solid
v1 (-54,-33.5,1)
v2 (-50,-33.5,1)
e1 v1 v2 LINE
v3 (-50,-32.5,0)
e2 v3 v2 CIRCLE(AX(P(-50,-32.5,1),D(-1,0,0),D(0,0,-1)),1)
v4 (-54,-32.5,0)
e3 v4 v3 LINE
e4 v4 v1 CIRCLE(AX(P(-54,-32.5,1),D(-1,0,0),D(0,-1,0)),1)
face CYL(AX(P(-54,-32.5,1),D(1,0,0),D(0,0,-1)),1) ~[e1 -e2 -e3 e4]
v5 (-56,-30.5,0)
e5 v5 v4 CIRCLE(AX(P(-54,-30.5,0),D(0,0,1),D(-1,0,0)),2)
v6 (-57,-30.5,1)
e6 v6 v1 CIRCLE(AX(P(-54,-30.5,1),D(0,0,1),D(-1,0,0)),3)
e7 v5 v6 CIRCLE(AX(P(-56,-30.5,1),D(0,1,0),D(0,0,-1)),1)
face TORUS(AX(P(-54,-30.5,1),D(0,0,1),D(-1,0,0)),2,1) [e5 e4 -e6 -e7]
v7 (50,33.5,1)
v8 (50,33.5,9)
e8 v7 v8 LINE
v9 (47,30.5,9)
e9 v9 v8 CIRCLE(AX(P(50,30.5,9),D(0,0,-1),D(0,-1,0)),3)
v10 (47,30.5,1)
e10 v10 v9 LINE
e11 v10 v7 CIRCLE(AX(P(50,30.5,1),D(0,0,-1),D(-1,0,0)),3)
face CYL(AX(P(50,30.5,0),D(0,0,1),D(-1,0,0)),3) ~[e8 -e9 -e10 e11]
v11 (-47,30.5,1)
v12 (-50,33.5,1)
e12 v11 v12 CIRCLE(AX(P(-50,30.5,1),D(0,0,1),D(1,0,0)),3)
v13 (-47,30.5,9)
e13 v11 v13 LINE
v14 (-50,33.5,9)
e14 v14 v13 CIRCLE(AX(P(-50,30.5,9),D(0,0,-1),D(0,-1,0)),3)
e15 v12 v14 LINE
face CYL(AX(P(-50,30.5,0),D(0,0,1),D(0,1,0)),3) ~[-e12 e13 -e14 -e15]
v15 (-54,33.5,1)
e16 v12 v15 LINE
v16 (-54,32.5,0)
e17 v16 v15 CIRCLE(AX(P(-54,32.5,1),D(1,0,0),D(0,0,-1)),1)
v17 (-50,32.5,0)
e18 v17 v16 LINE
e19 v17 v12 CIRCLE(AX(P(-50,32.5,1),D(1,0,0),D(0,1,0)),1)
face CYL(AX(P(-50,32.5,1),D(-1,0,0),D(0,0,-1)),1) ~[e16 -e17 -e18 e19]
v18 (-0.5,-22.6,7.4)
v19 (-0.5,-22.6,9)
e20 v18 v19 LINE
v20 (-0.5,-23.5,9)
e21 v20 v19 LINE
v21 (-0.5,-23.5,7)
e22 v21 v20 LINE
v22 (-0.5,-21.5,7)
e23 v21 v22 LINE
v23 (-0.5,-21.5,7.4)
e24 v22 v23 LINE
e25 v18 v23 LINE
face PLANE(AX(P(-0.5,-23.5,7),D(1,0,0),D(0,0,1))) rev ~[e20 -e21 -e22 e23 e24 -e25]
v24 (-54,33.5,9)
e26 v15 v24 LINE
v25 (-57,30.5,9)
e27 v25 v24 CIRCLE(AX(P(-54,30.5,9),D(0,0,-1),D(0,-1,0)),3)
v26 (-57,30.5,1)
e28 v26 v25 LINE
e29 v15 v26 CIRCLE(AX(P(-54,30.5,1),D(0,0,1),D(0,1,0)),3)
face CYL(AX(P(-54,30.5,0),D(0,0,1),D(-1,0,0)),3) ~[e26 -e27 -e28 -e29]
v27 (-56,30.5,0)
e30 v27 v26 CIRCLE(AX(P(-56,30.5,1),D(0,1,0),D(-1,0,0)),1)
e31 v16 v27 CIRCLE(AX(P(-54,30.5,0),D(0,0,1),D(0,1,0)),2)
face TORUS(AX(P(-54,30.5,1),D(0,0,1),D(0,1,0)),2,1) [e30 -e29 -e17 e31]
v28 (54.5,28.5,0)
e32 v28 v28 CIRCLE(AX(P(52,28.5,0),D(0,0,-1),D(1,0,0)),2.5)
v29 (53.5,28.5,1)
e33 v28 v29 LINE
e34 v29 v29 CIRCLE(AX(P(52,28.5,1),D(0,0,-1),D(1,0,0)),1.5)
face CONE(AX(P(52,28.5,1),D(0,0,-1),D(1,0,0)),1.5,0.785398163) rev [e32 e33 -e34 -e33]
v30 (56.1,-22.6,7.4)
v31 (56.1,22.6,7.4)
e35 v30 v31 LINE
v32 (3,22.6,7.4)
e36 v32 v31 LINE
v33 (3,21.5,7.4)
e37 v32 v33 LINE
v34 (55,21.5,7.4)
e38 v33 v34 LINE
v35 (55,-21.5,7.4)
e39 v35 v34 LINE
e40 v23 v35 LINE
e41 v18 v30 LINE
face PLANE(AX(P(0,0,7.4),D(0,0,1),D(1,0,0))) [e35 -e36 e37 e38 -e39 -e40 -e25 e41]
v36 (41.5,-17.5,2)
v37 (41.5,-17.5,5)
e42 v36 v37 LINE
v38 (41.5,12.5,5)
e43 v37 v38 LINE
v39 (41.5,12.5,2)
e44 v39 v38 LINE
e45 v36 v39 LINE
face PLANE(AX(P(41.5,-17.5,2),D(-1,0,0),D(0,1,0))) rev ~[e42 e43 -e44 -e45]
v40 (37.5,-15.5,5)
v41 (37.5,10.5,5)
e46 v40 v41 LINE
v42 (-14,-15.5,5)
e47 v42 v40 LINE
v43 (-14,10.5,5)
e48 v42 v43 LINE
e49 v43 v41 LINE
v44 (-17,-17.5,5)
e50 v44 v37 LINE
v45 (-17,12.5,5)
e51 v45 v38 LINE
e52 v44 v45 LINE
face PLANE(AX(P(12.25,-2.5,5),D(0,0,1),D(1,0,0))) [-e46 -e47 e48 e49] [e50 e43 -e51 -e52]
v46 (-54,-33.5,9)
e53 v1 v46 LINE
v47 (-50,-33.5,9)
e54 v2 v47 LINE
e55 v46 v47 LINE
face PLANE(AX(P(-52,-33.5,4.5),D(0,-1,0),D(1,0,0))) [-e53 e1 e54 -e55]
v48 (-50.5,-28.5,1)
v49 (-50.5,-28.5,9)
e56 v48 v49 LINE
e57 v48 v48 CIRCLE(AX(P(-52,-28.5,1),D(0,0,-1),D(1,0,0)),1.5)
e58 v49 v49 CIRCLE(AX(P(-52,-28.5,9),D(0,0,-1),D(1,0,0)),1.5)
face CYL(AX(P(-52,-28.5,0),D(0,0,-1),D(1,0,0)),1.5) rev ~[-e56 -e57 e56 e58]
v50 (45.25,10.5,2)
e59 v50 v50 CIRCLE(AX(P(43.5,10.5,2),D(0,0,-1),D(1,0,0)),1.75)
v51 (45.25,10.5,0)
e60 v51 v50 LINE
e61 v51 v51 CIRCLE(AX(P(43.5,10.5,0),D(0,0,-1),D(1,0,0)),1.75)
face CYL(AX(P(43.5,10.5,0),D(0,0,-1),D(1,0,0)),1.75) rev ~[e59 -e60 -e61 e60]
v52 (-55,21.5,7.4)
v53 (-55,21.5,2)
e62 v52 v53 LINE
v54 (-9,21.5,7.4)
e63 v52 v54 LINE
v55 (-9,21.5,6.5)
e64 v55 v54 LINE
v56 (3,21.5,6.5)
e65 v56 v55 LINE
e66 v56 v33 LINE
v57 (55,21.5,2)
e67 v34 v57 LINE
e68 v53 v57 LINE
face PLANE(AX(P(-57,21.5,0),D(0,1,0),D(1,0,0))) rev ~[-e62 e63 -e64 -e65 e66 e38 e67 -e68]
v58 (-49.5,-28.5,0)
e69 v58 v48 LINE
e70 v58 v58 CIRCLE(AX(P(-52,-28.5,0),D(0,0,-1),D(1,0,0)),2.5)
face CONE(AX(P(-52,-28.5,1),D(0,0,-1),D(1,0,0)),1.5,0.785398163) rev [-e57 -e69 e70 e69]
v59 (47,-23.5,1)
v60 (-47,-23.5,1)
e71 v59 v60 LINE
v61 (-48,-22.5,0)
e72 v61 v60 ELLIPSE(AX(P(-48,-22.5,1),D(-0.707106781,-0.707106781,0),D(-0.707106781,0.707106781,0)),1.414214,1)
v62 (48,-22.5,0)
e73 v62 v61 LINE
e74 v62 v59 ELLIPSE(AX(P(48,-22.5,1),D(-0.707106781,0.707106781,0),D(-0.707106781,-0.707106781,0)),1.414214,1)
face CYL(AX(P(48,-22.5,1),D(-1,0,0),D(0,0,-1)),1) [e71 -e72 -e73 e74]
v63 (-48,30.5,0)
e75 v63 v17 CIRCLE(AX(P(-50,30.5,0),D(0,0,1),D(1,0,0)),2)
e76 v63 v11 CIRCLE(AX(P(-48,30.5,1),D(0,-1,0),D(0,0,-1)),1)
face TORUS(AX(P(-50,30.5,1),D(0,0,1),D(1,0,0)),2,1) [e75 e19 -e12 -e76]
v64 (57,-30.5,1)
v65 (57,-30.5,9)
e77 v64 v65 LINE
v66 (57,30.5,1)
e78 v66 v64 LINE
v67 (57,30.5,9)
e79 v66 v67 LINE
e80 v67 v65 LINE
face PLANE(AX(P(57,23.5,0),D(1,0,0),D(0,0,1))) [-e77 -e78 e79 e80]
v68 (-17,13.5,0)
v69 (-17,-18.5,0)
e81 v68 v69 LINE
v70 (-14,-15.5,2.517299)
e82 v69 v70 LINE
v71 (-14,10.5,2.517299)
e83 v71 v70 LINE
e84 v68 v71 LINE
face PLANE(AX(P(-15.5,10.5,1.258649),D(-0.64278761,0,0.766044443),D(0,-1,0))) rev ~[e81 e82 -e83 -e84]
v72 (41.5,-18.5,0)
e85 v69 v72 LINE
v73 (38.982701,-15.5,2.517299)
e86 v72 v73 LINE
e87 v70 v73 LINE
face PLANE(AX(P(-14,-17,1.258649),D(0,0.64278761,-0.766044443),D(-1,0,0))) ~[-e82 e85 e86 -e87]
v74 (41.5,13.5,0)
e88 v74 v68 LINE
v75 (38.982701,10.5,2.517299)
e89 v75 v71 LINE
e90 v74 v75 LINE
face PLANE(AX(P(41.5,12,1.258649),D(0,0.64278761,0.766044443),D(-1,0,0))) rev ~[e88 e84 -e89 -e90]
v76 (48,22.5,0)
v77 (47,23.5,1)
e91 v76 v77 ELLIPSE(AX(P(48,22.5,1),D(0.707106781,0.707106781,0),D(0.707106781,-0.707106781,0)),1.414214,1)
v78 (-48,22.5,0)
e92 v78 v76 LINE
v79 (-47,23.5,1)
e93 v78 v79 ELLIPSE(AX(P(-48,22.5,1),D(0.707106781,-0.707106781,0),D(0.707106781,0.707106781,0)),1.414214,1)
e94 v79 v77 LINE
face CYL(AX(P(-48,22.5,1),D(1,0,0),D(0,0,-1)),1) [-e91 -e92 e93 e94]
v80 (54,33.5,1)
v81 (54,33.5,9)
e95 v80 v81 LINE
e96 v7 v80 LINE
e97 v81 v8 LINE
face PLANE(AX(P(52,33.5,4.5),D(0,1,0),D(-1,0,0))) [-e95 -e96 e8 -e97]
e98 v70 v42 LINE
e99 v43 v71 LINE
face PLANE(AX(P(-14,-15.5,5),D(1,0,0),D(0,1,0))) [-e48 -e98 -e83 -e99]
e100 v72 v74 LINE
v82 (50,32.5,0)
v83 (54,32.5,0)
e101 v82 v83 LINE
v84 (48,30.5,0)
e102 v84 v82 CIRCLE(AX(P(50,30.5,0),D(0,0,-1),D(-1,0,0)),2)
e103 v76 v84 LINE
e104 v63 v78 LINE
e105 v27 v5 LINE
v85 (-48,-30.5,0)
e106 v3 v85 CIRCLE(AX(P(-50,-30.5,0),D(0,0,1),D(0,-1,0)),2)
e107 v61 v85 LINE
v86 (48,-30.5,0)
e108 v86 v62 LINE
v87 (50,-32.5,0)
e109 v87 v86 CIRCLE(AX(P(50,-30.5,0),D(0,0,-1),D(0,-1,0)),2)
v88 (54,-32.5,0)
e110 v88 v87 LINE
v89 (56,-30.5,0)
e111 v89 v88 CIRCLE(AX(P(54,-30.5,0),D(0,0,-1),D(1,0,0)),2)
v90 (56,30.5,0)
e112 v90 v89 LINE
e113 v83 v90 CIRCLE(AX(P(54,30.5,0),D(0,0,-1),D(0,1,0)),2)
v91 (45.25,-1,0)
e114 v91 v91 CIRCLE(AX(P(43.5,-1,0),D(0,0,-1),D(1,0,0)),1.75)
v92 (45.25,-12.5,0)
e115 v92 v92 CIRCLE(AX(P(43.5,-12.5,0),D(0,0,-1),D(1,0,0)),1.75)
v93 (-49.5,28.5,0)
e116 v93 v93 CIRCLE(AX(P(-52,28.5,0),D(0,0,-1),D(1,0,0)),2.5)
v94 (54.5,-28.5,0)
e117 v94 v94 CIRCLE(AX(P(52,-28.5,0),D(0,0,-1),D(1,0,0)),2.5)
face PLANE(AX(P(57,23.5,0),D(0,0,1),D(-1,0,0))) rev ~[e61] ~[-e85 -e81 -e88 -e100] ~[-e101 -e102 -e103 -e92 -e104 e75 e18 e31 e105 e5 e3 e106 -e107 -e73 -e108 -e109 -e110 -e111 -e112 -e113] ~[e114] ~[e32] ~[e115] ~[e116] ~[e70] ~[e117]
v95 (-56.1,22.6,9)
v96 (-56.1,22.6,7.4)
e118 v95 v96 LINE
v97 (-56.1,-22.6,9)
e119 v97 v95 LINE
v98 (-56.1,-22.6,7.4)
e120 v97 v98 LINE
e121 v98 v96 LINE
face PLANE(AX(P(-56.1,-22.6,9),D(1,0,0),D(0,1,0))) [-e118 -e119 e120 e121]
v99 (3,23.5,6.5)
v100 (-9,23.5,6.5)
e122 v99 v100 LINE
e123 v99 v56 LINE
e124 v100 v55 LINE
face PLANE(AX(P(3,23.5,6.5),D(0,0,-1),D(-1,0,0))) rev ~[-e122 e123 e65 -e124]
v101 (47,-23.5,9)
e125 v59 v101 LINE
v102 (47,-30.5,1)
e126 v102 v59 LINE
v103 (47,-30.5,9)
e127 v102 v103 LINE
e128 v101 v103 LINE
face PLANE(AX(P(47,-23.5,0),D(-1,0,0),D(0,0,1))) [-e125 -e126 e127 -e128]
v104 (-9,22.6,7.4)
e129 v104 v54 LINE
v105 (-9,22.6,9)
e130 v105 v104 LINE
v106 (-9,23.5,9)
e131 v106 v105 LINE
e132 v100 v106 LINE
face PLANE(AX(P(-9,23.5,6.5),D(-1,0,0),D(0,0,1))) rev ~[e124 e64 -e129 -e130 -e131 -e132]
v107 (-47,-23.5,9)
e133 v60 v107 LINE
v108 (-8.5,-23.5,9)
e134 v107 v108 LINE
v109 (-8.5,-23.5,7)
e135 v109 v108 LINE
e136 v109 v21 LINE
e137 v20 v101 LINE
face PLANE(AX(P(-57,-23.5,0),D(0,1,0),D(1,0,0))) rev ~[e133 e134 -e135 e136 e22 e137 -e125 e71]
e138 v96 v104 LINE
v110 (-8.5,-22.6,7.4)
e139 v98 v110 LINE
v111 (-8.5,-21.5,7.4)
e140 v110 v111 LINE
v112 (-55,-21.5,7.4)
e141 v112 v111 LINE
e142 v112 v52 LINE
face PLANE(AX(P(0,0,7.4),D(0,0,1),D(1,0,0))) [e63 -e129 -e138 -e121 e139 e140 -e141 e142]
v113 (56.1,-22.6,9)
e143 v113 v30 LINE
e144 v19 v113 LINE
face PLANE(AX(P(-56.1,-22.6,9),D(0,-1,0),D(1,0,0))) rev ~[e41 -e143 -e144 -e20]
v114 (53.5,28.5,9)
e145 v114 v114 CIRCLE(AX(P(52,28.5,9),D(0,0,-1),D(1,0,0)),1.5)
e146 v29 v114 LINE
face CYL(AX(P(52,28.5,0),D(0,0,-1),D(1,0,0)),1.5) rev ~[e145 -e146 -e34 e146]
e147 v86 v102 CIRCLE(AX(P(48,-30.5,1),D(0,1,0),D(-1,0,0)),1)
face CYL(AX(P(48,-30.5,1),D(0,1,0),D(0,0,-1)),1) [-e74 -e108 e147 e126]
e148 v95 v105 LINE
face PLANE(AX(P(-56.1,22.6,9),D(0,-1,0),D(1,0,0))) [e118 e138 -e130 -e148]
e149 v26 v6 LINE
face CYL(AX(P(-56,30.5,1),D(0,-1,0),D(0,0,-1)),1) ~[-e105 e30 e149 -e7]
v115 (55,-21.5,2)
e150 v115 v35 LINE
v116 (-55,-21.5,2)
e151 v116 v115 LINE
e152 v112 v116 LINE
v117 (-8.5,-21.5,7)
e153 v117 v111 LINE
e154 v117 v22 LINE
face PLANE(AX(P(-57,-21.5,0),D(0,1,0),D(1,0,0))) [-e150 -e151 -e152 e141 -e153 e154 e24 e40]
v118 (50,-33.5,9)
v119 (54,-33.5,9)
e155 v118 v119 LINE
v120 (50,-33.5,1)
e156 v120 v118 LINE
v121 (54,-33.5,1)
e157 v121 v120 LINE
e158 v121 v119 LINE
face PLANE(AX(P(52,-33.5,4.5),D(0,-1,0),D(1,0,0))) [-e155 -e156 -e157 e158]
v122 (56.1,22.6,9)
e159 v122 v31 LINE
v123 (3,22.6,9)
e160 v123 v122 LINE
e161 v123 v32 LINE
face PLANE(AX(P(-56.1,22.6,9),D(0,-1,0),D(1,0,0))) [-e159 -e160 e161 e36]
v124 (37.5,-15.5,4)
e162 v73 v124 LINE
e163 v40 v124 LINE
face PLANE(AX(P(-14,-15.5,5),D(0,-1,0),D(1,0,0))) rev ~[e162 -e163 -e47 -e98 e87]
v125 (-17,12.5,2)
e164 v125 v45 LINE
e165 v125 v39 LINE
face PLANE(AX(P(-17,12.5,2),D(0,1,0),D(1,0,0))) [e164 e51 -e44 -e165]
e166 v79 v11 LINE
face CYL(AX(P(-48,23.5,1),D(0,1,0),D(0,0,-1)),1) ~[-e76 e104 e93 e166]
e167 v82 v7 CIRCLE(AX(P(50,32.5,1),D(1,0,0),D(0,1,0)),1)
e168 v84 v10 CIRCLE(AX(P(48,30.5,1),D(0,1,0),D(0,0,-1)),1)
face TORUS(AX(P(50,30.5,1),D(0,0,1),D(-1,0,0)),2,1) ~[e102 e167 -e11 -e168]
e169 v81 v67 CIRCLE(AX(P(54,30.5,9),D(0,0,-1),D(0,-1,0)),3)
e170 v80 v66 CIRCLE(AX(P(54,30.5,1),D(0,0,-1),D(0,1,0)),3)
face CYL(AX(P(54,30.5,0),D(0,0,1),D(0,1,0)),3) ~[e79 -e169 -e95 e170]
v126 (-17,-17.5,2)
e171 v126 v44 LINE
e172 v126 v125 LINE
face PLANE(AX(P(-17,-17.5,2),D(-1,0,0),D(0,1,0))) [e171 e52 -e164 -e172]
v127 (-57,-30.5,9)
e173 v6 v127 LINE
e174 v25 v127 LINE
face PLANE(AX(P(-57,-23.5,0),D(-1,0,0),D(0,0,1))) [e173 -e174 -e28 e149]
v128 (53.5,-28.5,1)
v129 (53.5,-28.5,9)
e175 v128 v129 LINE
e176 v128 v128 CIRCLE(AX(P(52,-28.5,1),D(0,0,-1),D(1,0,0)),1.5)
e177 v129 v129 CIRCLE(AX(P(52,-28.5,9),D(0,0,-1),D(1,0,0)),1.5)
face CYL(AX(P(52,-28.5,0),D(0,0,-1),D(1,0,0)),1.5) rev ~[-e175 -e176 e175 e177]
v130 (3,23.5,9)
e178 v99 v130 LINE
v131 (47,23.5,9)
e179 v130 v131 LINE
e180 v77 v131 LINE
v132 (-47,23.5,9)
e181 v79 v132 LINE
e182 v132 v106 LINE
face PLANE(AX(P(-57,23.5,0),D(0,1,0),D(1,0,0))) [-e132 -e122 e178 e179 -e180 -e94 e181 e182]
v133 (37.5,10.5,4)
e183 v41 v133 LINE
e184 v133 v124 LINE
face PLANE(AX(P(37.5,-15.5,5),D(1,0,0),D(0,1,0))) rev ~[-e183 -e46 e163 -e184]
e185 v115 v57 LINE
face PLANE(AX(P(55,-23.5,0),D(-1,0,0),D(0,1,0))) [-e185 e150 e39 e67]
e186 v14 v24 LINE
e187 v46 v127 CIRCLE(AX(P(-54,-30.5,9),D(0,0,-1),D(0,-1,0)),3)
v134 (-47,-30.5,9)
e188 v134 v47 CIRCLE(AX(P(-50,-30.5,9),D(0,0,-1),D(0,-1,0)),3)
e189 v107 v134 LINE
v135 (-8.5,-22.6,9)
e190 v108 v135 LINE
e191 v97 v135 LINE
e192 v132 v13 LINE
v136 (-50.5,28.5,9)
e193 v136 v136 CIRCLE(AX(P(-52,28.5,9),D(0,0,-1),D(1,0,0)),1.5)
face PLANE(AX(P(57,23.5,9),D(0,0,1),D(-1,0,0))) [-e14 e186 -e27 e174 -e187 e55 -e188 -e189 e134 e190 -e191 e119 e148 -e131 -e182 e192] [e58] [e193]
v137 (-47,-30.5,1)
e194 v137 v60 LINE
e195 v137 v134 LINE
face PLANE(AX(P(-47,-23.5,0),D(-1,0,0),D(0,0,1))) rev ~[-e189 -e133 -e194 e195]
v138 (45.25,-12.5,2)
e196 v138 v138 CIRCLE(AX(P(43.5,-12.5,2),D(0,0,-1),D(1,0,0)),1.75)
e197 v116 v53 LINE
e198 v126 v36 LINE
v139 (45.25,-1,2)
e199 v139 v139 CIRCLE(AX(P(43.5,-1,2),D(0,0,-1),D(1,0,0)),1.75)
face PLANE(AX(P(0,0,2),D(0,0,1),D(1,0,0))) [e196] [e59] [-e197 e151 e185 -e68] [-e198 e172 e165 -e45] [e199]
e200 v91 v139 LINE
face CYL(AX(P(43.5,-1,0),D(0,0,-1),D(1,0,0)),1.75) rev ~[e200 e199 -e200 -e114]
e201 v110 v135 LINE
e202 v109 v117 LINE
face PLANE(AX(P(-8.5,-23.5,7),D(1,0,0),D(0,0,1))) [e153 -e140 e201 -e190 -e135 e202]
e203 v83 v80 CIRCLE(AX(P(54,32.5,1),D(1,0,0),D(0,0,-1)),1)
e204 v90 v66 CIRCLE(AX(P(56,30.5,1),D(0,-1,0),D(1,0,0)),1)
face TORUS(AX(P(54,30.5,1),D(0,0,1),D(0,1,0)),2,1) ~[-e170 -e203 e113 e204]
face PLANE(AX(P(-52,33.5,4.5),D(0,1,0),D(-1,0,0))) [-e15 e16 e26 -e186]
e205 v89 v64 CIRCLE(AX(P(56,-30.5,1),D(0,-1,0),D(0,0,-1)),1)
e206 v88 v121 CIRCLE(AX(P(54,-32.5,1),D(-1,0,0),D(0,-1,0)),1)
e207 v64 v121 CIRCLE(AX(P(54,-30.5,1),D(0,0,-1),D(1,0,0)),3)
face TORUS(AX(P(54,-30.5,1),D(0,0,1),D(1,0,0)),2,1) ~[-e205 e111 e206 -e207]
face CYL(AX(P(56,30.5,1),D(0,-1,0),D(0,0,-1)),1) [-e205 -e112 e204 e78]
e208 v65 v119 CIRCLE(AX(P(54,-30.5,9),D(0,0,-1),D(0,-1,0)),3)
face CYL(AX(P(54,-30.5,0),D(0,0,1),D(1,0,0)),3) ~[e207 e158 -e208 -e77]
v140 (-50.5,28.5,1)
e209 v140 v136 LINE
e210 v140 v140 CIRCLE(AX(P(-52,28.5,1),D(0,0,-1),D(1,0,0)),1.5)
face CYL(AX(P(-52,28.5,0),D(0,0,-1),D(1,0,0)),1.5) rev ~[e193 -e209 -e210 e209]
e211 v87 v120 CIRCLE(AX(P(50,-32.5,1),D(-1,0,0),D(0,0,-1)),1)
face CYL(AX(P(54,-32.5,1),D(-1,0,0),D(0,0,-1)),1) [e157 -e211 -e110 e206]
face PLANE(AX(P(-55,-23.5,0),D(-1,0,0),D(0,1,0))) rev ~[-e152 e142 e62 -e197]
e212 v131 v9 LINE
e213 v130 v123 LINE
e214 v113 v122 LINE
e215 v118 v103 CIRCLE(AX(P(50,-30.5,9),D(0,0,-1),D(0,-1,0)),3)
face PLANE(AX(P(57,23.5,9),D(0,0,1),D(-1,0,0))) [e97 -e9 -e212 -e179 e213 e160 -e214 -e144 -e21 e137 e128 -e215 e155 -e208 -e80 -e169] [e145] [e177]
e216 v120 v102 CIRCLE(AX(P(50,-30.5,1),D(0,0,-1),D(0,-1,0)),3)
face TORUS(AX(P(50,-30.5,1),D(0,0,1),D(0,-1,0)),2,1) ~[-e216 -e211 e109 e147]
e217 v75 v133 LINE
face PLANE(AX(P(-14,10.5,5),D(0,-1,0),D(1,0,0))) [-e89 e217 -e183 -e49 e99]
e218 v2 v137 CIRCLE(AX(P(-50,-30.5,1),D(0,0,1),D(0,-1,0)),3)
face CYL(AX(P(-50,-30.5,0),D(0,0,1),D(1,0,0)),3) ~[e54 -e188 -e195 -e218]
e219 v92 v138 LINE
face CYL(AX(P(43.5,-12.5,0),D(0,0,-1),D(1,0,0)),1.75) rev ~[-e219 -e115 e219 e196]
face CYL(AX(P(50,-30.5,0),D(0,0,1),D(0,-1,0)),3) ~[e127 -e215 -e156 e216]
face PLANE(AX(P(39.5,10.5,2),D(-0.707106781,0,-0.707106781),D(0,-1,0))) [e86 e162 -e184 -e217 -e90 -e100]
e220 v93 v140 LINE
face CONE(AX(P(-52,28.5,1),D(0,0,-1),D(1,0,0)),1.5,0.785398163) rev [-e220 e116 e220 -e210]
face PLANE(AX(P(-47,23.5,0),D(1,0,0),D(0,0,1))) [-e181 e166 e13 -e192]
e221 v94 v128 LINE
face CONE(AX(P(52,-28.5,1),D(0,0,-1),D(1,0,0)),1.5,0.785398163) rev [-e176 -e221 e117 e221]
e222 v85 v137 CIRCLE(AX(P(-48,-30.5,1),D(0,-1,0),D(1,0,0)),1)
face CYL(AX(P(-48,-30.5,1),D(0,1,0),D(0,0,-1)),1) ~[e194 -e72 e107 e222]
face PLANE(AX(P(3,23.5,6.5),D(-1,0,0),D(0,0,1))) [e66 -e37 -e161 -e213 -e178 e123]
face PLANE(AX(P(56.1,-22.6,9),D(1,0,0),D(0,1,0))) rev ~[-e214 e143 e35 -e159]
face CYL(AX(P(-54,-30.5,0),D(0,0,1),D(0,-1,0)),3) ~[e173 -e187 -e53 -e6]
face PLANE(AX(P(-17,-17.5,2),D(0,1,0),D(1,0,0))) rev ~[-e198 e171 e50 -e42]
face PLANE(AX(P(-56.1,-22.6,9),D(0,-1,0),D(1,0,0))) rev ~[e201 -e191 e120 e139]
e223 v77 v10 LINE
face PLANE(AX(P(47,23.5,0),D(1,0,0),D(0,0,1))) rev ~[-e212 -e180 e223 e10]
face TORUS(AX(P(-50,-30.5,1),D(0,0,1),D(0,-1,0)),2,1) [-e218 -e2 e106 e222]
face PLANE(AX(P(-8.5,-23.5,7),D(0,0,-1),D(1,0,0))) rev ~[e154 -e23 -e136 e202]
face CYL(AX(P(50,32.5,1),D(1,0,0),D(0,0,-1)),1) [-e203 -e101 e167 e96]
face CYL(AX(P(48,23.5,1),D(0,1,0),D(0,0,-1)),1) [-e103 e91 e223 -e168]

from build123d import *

# Parameters (mm, degrees)
SKETCH_W         = 114
SKETCH_H         = 47
PAD_DEPTH        = 9
THICKNESS_T      = -2
SKETCH004_W      = 10
SKETCH004_H      = 9
PAD001_DEPTH     = 10
SKETCH005_W      = 10
SKETCH005_H      = 9
PAD002_DEPTH     = 10
SKETCH006_W      = 112.2
SKETCH006_H      = 45.2
POCKET_DEPTH     = 1.6
SKETCH007_R      = 1.5
POCKET001_DEPTH  = 9
SKETCH008_W      = 51.5
SKETCH008_H      = 26
POCKET002_DEPTH  = 7
SKETCH009_W      = 58.5
SKETCH009_H      = 30
PAD003_DEPTH     = 3
SKETCH010_W      = 51.5
SKETCH010_H      = 26
POCKET003_DEPTH  = 3
SKETCH011_R      = 1.75
POCKET004_DEPTH  = 2
CHAMFER_SIZE     = 1
CHAMFER001_ANGLE = 45
CHAMFER001_SIZE  = 4
CHAMFER002_ANGLE = 40
CHAMFER002_SIZE  = 3
FILLET_R         = 3
FILLET001_R      = 3
FILLET002_R      = 1
FILLET003_R      = 1
FILLET004_R      = 1
SKETCH012_W      = 12
SKETCH012_H      = 2.5
POCKET005_DEPTH  = 2
SKETCH013_W      = 8
SKETCH013_H      = 2
POCKET006_DEPTH  = 2


with BuildPart() as part:
    # Sketch → Pad (new body)
    with BuildSketch(Plane.XY):
        Rectangle(SKETCH_W, SKETCH_H)
    extrude(amount=PAD_DEPTH)

    # Thickness
    thickness_openings = [part.faces().sort_by_distance(p)[0] for p in [
        (0, 0, 9),
    ]]
    offset(amount=THICKNESS_T, openings=thickness_openings)

    # Sketch004 → Pad001 (join)
    with BuildSketch(Plane.XZ.offset(23.5)):
        with Locations((-52, 4.5)):
            Rectangle(SKETCH004_W, SKETCH004_H)
        with Locations((52, 4.5)):
            Rectangle(SKETCH004_W, SKETCH004_H)
    extrude(amount=PAD001_DEPTH)

    # Sketch005 (on Face1 of Pad001) → Pad002 (join)
    with BuildSketch(Plane(origin=(0, 23.5, 0), x_dir=(-1, 0, 0), z_dir=(0, 1, 0))):
        with Locations((-52, 4.5)):
            Rectangle(SKETCH005_W, SKETCH005_H)
        with Locations((52, 4.5)):
            Rectangle(SKETCH005_W, SKETCH005_H)
    extrude(amount=PAD002_DEPTH)

    # Sketch006 (on Face12 of Pad002) → Pocket (cut)
    with BuildSketch(Plane.XY.offset(9)):
        Rectangle(SKETCH006_W, SKETCH006_H)
    extrude(amount=-POCKET_DEPTH, mode=Mode.SUBTRACT)

    # Sketch007 (on Face2 of Pocket) → Pocket001 (cut)
    with BuildSketch(Plane(origin=(0, 0, 0), x_dir=(1, 0, 0), z_dir=(0, 0, -1))):
        with Locations((-52, 28.5)):
            Circle(SKETCH007_R)
        with Locations((52, 28.5)):
            Circle(SKETCH007_R)
        with Locations((52, -28.5)):
            Circle(SKETCH007_R)
        with Locations((-52, -28.5)):
            Circle(SKETCH007_R)
    extrude(amount=-POCKET001_DEPTH, mode=Mode.SUBTRACT)

    # Sketch008 (on Face2 of Pocket001) → Pocket002 (cut)
    with BuildSketch(Plane(origin=(0, 0, 0), x_dir=(1, 0, 0), z_dir=(0, 0, -1))):
        with Locations((11.75, 2.5)):
            Rectangle(SKETCH008_W, SKETCH008_H)
    extrude(amount=-POCKET002_DEPTH, mode=Mode.SUBTRACT)

    # Sketch009 (on Face27 of Pocket002) → Pad003 (join)
    with BuildSketch(Plane.XY.offset(2)):
        with Locations((12.25, -2.5)):
            Rectangle(SKETCH009_W, SKETCH009_H)
    extrude(amount=PAD003_DEPTH)

    # Sketch010 (on Face38 of Pad003) → Pocket003 (cut)
    with BuildSketch(Plane.XY.offset(5)):
        with Locations((11.75, -2.5)):
            Rectangle(SKETCH010_W, SKETCH010_H)
    extrude(amount=-POCKET003_DEPTH, mode=Mode.SUBTRACT)

    # Sketch011 (on Face2 of Pocket003) → Pocket004 (cut)
    with BuildSketch(Plane(origin=(0, 0, 0), x_dir=(1, 0, 0), z_dir=(0, 0, -1))):
        with Locations((43.5, -10.5)):
            Circle(SKETCH011_R)
        with Locations((43.5, 1)):
            Circle(SKETCH011_R)
        with Locations((43.5, 12.5)):
            Circle(SKETCH011_R)
    extrude(amount=-POCKET004_DEPTH, mode=Mode.SUBTRACT)

    # Chamfer
    chamfer_edges = [part.edges().sort_by_distance(p)[0] for p in [
        (50.5, 28.5, 0),
        (50.5, -28.5, 0),
        (-53.5, -28.5, 0),
        (-53.5, 28.5, 0),
    ]]
    chamfer(chamfer_edges, length=CHAMFER_SIZE)

    # Chamfer001
    chamfer001_edges = [part.edges().sort_by_distance(p)[0] for p in [
        (37.5, -2.5, 0),
    ]]
    chamfer001_side = part.faces().sort_by_distance((48.177691, 28.5, 0))[0]
    chamfer(chamfer001_edges, length=CHAMFER001_SIZE, angle=CHAMFER001_ANGLE, reference=chamfer001_side)

    # Chamfer002
    chamfer002_edges = [part.edges().sort_by_distance(p)[0] for p in [
        (11.75, -15.5, 0),
        (-14, -2.5, 0),
        (11.75, 10.5, 0),
    ]]
    chamfer002_side = part.faces().sort_by_distance((39.5, 11.822309, 0))[0]
    chamfer(chamfer002_edges, length=CHAMFER002_SIZE, angle=CHAMFER002_ANGLE, reference=chamfer002_side)

    # Fillet
    fillet_edges = [part.edges().sort_by_distance(p)[0] for p in [
        (57, -33.5, 4.5),
        (47, -33.5, 4.5),
        (-47, -33.5, 4.5),
        (-57, -33.5, 4.5),
    ]]
    fillet(fillet_edges, radius=FILLET_R)

    # Fillet001
    fillet001_edges = [part.edges().sort_by_distance(p)[0] for p in [
        (-57, 33.5, 4.5),
        (-47, 33.5, 4.5),
        (47, 33.5, 4.5),
        (57, 33.5, 4.5),
    ]]
    fillet(fillet001_edges, radius=FILLET001_R)

    # Fillet002
    fillet002_edges = [part.edges().sort_by_distance(p)[0] for p in [
        (-47, 27, 0),
        (-47, -27, 0),
        (-57, 0, 0),
    ]]
    fillet(fillet002_edges, radius=FILLET002_R)

    # Fillet003
    fillet003_edges = [part.edges().sort_by_distance(p)[0] for p in [
        (47, 27, 0),
        (57, 0, 0),
        (47, -27, 0),
    ]]
    fillet(fillet003_edges, radius=FILLET003_R)

    # Fillet004
    fillet004_edges = [part.edges().sort_by_distance(p)[0] for p in [
        (0, 23.5, 0),
        (0, -23.5, 0),
    ]]
    fillet(fillet004_edges, radius=FILLET004_R)

    # Sketch012 (on Face33 of Fillet004) → Pocket005 (cut)
    with BuildSketch(Plane(origin=(0, 23.5, 0), x_dir=(-1, 0, 0), z_dir=(0, 1, 0))):
        with Locations((3, 7.75)):
            Rectangle(SKETCH012_W, SKETCH012_H)
    extrude(amount=-POCKET005_DEPTH, mode=Mode.SUBTRACT)

    # Sketch013 (on Face49 of Pocket005) → Pocket006 (cut)
    with BuildSketch(Plane.XZ.offset(23.5)):
        with Locations((-4.5, 8)):
            Rectangle(SKETCH013_W, SKETCH013_H)
    extrude(amount=-POCKET006_DEPTH, mode=Mode.SUBTRACT)


solid = part.part
